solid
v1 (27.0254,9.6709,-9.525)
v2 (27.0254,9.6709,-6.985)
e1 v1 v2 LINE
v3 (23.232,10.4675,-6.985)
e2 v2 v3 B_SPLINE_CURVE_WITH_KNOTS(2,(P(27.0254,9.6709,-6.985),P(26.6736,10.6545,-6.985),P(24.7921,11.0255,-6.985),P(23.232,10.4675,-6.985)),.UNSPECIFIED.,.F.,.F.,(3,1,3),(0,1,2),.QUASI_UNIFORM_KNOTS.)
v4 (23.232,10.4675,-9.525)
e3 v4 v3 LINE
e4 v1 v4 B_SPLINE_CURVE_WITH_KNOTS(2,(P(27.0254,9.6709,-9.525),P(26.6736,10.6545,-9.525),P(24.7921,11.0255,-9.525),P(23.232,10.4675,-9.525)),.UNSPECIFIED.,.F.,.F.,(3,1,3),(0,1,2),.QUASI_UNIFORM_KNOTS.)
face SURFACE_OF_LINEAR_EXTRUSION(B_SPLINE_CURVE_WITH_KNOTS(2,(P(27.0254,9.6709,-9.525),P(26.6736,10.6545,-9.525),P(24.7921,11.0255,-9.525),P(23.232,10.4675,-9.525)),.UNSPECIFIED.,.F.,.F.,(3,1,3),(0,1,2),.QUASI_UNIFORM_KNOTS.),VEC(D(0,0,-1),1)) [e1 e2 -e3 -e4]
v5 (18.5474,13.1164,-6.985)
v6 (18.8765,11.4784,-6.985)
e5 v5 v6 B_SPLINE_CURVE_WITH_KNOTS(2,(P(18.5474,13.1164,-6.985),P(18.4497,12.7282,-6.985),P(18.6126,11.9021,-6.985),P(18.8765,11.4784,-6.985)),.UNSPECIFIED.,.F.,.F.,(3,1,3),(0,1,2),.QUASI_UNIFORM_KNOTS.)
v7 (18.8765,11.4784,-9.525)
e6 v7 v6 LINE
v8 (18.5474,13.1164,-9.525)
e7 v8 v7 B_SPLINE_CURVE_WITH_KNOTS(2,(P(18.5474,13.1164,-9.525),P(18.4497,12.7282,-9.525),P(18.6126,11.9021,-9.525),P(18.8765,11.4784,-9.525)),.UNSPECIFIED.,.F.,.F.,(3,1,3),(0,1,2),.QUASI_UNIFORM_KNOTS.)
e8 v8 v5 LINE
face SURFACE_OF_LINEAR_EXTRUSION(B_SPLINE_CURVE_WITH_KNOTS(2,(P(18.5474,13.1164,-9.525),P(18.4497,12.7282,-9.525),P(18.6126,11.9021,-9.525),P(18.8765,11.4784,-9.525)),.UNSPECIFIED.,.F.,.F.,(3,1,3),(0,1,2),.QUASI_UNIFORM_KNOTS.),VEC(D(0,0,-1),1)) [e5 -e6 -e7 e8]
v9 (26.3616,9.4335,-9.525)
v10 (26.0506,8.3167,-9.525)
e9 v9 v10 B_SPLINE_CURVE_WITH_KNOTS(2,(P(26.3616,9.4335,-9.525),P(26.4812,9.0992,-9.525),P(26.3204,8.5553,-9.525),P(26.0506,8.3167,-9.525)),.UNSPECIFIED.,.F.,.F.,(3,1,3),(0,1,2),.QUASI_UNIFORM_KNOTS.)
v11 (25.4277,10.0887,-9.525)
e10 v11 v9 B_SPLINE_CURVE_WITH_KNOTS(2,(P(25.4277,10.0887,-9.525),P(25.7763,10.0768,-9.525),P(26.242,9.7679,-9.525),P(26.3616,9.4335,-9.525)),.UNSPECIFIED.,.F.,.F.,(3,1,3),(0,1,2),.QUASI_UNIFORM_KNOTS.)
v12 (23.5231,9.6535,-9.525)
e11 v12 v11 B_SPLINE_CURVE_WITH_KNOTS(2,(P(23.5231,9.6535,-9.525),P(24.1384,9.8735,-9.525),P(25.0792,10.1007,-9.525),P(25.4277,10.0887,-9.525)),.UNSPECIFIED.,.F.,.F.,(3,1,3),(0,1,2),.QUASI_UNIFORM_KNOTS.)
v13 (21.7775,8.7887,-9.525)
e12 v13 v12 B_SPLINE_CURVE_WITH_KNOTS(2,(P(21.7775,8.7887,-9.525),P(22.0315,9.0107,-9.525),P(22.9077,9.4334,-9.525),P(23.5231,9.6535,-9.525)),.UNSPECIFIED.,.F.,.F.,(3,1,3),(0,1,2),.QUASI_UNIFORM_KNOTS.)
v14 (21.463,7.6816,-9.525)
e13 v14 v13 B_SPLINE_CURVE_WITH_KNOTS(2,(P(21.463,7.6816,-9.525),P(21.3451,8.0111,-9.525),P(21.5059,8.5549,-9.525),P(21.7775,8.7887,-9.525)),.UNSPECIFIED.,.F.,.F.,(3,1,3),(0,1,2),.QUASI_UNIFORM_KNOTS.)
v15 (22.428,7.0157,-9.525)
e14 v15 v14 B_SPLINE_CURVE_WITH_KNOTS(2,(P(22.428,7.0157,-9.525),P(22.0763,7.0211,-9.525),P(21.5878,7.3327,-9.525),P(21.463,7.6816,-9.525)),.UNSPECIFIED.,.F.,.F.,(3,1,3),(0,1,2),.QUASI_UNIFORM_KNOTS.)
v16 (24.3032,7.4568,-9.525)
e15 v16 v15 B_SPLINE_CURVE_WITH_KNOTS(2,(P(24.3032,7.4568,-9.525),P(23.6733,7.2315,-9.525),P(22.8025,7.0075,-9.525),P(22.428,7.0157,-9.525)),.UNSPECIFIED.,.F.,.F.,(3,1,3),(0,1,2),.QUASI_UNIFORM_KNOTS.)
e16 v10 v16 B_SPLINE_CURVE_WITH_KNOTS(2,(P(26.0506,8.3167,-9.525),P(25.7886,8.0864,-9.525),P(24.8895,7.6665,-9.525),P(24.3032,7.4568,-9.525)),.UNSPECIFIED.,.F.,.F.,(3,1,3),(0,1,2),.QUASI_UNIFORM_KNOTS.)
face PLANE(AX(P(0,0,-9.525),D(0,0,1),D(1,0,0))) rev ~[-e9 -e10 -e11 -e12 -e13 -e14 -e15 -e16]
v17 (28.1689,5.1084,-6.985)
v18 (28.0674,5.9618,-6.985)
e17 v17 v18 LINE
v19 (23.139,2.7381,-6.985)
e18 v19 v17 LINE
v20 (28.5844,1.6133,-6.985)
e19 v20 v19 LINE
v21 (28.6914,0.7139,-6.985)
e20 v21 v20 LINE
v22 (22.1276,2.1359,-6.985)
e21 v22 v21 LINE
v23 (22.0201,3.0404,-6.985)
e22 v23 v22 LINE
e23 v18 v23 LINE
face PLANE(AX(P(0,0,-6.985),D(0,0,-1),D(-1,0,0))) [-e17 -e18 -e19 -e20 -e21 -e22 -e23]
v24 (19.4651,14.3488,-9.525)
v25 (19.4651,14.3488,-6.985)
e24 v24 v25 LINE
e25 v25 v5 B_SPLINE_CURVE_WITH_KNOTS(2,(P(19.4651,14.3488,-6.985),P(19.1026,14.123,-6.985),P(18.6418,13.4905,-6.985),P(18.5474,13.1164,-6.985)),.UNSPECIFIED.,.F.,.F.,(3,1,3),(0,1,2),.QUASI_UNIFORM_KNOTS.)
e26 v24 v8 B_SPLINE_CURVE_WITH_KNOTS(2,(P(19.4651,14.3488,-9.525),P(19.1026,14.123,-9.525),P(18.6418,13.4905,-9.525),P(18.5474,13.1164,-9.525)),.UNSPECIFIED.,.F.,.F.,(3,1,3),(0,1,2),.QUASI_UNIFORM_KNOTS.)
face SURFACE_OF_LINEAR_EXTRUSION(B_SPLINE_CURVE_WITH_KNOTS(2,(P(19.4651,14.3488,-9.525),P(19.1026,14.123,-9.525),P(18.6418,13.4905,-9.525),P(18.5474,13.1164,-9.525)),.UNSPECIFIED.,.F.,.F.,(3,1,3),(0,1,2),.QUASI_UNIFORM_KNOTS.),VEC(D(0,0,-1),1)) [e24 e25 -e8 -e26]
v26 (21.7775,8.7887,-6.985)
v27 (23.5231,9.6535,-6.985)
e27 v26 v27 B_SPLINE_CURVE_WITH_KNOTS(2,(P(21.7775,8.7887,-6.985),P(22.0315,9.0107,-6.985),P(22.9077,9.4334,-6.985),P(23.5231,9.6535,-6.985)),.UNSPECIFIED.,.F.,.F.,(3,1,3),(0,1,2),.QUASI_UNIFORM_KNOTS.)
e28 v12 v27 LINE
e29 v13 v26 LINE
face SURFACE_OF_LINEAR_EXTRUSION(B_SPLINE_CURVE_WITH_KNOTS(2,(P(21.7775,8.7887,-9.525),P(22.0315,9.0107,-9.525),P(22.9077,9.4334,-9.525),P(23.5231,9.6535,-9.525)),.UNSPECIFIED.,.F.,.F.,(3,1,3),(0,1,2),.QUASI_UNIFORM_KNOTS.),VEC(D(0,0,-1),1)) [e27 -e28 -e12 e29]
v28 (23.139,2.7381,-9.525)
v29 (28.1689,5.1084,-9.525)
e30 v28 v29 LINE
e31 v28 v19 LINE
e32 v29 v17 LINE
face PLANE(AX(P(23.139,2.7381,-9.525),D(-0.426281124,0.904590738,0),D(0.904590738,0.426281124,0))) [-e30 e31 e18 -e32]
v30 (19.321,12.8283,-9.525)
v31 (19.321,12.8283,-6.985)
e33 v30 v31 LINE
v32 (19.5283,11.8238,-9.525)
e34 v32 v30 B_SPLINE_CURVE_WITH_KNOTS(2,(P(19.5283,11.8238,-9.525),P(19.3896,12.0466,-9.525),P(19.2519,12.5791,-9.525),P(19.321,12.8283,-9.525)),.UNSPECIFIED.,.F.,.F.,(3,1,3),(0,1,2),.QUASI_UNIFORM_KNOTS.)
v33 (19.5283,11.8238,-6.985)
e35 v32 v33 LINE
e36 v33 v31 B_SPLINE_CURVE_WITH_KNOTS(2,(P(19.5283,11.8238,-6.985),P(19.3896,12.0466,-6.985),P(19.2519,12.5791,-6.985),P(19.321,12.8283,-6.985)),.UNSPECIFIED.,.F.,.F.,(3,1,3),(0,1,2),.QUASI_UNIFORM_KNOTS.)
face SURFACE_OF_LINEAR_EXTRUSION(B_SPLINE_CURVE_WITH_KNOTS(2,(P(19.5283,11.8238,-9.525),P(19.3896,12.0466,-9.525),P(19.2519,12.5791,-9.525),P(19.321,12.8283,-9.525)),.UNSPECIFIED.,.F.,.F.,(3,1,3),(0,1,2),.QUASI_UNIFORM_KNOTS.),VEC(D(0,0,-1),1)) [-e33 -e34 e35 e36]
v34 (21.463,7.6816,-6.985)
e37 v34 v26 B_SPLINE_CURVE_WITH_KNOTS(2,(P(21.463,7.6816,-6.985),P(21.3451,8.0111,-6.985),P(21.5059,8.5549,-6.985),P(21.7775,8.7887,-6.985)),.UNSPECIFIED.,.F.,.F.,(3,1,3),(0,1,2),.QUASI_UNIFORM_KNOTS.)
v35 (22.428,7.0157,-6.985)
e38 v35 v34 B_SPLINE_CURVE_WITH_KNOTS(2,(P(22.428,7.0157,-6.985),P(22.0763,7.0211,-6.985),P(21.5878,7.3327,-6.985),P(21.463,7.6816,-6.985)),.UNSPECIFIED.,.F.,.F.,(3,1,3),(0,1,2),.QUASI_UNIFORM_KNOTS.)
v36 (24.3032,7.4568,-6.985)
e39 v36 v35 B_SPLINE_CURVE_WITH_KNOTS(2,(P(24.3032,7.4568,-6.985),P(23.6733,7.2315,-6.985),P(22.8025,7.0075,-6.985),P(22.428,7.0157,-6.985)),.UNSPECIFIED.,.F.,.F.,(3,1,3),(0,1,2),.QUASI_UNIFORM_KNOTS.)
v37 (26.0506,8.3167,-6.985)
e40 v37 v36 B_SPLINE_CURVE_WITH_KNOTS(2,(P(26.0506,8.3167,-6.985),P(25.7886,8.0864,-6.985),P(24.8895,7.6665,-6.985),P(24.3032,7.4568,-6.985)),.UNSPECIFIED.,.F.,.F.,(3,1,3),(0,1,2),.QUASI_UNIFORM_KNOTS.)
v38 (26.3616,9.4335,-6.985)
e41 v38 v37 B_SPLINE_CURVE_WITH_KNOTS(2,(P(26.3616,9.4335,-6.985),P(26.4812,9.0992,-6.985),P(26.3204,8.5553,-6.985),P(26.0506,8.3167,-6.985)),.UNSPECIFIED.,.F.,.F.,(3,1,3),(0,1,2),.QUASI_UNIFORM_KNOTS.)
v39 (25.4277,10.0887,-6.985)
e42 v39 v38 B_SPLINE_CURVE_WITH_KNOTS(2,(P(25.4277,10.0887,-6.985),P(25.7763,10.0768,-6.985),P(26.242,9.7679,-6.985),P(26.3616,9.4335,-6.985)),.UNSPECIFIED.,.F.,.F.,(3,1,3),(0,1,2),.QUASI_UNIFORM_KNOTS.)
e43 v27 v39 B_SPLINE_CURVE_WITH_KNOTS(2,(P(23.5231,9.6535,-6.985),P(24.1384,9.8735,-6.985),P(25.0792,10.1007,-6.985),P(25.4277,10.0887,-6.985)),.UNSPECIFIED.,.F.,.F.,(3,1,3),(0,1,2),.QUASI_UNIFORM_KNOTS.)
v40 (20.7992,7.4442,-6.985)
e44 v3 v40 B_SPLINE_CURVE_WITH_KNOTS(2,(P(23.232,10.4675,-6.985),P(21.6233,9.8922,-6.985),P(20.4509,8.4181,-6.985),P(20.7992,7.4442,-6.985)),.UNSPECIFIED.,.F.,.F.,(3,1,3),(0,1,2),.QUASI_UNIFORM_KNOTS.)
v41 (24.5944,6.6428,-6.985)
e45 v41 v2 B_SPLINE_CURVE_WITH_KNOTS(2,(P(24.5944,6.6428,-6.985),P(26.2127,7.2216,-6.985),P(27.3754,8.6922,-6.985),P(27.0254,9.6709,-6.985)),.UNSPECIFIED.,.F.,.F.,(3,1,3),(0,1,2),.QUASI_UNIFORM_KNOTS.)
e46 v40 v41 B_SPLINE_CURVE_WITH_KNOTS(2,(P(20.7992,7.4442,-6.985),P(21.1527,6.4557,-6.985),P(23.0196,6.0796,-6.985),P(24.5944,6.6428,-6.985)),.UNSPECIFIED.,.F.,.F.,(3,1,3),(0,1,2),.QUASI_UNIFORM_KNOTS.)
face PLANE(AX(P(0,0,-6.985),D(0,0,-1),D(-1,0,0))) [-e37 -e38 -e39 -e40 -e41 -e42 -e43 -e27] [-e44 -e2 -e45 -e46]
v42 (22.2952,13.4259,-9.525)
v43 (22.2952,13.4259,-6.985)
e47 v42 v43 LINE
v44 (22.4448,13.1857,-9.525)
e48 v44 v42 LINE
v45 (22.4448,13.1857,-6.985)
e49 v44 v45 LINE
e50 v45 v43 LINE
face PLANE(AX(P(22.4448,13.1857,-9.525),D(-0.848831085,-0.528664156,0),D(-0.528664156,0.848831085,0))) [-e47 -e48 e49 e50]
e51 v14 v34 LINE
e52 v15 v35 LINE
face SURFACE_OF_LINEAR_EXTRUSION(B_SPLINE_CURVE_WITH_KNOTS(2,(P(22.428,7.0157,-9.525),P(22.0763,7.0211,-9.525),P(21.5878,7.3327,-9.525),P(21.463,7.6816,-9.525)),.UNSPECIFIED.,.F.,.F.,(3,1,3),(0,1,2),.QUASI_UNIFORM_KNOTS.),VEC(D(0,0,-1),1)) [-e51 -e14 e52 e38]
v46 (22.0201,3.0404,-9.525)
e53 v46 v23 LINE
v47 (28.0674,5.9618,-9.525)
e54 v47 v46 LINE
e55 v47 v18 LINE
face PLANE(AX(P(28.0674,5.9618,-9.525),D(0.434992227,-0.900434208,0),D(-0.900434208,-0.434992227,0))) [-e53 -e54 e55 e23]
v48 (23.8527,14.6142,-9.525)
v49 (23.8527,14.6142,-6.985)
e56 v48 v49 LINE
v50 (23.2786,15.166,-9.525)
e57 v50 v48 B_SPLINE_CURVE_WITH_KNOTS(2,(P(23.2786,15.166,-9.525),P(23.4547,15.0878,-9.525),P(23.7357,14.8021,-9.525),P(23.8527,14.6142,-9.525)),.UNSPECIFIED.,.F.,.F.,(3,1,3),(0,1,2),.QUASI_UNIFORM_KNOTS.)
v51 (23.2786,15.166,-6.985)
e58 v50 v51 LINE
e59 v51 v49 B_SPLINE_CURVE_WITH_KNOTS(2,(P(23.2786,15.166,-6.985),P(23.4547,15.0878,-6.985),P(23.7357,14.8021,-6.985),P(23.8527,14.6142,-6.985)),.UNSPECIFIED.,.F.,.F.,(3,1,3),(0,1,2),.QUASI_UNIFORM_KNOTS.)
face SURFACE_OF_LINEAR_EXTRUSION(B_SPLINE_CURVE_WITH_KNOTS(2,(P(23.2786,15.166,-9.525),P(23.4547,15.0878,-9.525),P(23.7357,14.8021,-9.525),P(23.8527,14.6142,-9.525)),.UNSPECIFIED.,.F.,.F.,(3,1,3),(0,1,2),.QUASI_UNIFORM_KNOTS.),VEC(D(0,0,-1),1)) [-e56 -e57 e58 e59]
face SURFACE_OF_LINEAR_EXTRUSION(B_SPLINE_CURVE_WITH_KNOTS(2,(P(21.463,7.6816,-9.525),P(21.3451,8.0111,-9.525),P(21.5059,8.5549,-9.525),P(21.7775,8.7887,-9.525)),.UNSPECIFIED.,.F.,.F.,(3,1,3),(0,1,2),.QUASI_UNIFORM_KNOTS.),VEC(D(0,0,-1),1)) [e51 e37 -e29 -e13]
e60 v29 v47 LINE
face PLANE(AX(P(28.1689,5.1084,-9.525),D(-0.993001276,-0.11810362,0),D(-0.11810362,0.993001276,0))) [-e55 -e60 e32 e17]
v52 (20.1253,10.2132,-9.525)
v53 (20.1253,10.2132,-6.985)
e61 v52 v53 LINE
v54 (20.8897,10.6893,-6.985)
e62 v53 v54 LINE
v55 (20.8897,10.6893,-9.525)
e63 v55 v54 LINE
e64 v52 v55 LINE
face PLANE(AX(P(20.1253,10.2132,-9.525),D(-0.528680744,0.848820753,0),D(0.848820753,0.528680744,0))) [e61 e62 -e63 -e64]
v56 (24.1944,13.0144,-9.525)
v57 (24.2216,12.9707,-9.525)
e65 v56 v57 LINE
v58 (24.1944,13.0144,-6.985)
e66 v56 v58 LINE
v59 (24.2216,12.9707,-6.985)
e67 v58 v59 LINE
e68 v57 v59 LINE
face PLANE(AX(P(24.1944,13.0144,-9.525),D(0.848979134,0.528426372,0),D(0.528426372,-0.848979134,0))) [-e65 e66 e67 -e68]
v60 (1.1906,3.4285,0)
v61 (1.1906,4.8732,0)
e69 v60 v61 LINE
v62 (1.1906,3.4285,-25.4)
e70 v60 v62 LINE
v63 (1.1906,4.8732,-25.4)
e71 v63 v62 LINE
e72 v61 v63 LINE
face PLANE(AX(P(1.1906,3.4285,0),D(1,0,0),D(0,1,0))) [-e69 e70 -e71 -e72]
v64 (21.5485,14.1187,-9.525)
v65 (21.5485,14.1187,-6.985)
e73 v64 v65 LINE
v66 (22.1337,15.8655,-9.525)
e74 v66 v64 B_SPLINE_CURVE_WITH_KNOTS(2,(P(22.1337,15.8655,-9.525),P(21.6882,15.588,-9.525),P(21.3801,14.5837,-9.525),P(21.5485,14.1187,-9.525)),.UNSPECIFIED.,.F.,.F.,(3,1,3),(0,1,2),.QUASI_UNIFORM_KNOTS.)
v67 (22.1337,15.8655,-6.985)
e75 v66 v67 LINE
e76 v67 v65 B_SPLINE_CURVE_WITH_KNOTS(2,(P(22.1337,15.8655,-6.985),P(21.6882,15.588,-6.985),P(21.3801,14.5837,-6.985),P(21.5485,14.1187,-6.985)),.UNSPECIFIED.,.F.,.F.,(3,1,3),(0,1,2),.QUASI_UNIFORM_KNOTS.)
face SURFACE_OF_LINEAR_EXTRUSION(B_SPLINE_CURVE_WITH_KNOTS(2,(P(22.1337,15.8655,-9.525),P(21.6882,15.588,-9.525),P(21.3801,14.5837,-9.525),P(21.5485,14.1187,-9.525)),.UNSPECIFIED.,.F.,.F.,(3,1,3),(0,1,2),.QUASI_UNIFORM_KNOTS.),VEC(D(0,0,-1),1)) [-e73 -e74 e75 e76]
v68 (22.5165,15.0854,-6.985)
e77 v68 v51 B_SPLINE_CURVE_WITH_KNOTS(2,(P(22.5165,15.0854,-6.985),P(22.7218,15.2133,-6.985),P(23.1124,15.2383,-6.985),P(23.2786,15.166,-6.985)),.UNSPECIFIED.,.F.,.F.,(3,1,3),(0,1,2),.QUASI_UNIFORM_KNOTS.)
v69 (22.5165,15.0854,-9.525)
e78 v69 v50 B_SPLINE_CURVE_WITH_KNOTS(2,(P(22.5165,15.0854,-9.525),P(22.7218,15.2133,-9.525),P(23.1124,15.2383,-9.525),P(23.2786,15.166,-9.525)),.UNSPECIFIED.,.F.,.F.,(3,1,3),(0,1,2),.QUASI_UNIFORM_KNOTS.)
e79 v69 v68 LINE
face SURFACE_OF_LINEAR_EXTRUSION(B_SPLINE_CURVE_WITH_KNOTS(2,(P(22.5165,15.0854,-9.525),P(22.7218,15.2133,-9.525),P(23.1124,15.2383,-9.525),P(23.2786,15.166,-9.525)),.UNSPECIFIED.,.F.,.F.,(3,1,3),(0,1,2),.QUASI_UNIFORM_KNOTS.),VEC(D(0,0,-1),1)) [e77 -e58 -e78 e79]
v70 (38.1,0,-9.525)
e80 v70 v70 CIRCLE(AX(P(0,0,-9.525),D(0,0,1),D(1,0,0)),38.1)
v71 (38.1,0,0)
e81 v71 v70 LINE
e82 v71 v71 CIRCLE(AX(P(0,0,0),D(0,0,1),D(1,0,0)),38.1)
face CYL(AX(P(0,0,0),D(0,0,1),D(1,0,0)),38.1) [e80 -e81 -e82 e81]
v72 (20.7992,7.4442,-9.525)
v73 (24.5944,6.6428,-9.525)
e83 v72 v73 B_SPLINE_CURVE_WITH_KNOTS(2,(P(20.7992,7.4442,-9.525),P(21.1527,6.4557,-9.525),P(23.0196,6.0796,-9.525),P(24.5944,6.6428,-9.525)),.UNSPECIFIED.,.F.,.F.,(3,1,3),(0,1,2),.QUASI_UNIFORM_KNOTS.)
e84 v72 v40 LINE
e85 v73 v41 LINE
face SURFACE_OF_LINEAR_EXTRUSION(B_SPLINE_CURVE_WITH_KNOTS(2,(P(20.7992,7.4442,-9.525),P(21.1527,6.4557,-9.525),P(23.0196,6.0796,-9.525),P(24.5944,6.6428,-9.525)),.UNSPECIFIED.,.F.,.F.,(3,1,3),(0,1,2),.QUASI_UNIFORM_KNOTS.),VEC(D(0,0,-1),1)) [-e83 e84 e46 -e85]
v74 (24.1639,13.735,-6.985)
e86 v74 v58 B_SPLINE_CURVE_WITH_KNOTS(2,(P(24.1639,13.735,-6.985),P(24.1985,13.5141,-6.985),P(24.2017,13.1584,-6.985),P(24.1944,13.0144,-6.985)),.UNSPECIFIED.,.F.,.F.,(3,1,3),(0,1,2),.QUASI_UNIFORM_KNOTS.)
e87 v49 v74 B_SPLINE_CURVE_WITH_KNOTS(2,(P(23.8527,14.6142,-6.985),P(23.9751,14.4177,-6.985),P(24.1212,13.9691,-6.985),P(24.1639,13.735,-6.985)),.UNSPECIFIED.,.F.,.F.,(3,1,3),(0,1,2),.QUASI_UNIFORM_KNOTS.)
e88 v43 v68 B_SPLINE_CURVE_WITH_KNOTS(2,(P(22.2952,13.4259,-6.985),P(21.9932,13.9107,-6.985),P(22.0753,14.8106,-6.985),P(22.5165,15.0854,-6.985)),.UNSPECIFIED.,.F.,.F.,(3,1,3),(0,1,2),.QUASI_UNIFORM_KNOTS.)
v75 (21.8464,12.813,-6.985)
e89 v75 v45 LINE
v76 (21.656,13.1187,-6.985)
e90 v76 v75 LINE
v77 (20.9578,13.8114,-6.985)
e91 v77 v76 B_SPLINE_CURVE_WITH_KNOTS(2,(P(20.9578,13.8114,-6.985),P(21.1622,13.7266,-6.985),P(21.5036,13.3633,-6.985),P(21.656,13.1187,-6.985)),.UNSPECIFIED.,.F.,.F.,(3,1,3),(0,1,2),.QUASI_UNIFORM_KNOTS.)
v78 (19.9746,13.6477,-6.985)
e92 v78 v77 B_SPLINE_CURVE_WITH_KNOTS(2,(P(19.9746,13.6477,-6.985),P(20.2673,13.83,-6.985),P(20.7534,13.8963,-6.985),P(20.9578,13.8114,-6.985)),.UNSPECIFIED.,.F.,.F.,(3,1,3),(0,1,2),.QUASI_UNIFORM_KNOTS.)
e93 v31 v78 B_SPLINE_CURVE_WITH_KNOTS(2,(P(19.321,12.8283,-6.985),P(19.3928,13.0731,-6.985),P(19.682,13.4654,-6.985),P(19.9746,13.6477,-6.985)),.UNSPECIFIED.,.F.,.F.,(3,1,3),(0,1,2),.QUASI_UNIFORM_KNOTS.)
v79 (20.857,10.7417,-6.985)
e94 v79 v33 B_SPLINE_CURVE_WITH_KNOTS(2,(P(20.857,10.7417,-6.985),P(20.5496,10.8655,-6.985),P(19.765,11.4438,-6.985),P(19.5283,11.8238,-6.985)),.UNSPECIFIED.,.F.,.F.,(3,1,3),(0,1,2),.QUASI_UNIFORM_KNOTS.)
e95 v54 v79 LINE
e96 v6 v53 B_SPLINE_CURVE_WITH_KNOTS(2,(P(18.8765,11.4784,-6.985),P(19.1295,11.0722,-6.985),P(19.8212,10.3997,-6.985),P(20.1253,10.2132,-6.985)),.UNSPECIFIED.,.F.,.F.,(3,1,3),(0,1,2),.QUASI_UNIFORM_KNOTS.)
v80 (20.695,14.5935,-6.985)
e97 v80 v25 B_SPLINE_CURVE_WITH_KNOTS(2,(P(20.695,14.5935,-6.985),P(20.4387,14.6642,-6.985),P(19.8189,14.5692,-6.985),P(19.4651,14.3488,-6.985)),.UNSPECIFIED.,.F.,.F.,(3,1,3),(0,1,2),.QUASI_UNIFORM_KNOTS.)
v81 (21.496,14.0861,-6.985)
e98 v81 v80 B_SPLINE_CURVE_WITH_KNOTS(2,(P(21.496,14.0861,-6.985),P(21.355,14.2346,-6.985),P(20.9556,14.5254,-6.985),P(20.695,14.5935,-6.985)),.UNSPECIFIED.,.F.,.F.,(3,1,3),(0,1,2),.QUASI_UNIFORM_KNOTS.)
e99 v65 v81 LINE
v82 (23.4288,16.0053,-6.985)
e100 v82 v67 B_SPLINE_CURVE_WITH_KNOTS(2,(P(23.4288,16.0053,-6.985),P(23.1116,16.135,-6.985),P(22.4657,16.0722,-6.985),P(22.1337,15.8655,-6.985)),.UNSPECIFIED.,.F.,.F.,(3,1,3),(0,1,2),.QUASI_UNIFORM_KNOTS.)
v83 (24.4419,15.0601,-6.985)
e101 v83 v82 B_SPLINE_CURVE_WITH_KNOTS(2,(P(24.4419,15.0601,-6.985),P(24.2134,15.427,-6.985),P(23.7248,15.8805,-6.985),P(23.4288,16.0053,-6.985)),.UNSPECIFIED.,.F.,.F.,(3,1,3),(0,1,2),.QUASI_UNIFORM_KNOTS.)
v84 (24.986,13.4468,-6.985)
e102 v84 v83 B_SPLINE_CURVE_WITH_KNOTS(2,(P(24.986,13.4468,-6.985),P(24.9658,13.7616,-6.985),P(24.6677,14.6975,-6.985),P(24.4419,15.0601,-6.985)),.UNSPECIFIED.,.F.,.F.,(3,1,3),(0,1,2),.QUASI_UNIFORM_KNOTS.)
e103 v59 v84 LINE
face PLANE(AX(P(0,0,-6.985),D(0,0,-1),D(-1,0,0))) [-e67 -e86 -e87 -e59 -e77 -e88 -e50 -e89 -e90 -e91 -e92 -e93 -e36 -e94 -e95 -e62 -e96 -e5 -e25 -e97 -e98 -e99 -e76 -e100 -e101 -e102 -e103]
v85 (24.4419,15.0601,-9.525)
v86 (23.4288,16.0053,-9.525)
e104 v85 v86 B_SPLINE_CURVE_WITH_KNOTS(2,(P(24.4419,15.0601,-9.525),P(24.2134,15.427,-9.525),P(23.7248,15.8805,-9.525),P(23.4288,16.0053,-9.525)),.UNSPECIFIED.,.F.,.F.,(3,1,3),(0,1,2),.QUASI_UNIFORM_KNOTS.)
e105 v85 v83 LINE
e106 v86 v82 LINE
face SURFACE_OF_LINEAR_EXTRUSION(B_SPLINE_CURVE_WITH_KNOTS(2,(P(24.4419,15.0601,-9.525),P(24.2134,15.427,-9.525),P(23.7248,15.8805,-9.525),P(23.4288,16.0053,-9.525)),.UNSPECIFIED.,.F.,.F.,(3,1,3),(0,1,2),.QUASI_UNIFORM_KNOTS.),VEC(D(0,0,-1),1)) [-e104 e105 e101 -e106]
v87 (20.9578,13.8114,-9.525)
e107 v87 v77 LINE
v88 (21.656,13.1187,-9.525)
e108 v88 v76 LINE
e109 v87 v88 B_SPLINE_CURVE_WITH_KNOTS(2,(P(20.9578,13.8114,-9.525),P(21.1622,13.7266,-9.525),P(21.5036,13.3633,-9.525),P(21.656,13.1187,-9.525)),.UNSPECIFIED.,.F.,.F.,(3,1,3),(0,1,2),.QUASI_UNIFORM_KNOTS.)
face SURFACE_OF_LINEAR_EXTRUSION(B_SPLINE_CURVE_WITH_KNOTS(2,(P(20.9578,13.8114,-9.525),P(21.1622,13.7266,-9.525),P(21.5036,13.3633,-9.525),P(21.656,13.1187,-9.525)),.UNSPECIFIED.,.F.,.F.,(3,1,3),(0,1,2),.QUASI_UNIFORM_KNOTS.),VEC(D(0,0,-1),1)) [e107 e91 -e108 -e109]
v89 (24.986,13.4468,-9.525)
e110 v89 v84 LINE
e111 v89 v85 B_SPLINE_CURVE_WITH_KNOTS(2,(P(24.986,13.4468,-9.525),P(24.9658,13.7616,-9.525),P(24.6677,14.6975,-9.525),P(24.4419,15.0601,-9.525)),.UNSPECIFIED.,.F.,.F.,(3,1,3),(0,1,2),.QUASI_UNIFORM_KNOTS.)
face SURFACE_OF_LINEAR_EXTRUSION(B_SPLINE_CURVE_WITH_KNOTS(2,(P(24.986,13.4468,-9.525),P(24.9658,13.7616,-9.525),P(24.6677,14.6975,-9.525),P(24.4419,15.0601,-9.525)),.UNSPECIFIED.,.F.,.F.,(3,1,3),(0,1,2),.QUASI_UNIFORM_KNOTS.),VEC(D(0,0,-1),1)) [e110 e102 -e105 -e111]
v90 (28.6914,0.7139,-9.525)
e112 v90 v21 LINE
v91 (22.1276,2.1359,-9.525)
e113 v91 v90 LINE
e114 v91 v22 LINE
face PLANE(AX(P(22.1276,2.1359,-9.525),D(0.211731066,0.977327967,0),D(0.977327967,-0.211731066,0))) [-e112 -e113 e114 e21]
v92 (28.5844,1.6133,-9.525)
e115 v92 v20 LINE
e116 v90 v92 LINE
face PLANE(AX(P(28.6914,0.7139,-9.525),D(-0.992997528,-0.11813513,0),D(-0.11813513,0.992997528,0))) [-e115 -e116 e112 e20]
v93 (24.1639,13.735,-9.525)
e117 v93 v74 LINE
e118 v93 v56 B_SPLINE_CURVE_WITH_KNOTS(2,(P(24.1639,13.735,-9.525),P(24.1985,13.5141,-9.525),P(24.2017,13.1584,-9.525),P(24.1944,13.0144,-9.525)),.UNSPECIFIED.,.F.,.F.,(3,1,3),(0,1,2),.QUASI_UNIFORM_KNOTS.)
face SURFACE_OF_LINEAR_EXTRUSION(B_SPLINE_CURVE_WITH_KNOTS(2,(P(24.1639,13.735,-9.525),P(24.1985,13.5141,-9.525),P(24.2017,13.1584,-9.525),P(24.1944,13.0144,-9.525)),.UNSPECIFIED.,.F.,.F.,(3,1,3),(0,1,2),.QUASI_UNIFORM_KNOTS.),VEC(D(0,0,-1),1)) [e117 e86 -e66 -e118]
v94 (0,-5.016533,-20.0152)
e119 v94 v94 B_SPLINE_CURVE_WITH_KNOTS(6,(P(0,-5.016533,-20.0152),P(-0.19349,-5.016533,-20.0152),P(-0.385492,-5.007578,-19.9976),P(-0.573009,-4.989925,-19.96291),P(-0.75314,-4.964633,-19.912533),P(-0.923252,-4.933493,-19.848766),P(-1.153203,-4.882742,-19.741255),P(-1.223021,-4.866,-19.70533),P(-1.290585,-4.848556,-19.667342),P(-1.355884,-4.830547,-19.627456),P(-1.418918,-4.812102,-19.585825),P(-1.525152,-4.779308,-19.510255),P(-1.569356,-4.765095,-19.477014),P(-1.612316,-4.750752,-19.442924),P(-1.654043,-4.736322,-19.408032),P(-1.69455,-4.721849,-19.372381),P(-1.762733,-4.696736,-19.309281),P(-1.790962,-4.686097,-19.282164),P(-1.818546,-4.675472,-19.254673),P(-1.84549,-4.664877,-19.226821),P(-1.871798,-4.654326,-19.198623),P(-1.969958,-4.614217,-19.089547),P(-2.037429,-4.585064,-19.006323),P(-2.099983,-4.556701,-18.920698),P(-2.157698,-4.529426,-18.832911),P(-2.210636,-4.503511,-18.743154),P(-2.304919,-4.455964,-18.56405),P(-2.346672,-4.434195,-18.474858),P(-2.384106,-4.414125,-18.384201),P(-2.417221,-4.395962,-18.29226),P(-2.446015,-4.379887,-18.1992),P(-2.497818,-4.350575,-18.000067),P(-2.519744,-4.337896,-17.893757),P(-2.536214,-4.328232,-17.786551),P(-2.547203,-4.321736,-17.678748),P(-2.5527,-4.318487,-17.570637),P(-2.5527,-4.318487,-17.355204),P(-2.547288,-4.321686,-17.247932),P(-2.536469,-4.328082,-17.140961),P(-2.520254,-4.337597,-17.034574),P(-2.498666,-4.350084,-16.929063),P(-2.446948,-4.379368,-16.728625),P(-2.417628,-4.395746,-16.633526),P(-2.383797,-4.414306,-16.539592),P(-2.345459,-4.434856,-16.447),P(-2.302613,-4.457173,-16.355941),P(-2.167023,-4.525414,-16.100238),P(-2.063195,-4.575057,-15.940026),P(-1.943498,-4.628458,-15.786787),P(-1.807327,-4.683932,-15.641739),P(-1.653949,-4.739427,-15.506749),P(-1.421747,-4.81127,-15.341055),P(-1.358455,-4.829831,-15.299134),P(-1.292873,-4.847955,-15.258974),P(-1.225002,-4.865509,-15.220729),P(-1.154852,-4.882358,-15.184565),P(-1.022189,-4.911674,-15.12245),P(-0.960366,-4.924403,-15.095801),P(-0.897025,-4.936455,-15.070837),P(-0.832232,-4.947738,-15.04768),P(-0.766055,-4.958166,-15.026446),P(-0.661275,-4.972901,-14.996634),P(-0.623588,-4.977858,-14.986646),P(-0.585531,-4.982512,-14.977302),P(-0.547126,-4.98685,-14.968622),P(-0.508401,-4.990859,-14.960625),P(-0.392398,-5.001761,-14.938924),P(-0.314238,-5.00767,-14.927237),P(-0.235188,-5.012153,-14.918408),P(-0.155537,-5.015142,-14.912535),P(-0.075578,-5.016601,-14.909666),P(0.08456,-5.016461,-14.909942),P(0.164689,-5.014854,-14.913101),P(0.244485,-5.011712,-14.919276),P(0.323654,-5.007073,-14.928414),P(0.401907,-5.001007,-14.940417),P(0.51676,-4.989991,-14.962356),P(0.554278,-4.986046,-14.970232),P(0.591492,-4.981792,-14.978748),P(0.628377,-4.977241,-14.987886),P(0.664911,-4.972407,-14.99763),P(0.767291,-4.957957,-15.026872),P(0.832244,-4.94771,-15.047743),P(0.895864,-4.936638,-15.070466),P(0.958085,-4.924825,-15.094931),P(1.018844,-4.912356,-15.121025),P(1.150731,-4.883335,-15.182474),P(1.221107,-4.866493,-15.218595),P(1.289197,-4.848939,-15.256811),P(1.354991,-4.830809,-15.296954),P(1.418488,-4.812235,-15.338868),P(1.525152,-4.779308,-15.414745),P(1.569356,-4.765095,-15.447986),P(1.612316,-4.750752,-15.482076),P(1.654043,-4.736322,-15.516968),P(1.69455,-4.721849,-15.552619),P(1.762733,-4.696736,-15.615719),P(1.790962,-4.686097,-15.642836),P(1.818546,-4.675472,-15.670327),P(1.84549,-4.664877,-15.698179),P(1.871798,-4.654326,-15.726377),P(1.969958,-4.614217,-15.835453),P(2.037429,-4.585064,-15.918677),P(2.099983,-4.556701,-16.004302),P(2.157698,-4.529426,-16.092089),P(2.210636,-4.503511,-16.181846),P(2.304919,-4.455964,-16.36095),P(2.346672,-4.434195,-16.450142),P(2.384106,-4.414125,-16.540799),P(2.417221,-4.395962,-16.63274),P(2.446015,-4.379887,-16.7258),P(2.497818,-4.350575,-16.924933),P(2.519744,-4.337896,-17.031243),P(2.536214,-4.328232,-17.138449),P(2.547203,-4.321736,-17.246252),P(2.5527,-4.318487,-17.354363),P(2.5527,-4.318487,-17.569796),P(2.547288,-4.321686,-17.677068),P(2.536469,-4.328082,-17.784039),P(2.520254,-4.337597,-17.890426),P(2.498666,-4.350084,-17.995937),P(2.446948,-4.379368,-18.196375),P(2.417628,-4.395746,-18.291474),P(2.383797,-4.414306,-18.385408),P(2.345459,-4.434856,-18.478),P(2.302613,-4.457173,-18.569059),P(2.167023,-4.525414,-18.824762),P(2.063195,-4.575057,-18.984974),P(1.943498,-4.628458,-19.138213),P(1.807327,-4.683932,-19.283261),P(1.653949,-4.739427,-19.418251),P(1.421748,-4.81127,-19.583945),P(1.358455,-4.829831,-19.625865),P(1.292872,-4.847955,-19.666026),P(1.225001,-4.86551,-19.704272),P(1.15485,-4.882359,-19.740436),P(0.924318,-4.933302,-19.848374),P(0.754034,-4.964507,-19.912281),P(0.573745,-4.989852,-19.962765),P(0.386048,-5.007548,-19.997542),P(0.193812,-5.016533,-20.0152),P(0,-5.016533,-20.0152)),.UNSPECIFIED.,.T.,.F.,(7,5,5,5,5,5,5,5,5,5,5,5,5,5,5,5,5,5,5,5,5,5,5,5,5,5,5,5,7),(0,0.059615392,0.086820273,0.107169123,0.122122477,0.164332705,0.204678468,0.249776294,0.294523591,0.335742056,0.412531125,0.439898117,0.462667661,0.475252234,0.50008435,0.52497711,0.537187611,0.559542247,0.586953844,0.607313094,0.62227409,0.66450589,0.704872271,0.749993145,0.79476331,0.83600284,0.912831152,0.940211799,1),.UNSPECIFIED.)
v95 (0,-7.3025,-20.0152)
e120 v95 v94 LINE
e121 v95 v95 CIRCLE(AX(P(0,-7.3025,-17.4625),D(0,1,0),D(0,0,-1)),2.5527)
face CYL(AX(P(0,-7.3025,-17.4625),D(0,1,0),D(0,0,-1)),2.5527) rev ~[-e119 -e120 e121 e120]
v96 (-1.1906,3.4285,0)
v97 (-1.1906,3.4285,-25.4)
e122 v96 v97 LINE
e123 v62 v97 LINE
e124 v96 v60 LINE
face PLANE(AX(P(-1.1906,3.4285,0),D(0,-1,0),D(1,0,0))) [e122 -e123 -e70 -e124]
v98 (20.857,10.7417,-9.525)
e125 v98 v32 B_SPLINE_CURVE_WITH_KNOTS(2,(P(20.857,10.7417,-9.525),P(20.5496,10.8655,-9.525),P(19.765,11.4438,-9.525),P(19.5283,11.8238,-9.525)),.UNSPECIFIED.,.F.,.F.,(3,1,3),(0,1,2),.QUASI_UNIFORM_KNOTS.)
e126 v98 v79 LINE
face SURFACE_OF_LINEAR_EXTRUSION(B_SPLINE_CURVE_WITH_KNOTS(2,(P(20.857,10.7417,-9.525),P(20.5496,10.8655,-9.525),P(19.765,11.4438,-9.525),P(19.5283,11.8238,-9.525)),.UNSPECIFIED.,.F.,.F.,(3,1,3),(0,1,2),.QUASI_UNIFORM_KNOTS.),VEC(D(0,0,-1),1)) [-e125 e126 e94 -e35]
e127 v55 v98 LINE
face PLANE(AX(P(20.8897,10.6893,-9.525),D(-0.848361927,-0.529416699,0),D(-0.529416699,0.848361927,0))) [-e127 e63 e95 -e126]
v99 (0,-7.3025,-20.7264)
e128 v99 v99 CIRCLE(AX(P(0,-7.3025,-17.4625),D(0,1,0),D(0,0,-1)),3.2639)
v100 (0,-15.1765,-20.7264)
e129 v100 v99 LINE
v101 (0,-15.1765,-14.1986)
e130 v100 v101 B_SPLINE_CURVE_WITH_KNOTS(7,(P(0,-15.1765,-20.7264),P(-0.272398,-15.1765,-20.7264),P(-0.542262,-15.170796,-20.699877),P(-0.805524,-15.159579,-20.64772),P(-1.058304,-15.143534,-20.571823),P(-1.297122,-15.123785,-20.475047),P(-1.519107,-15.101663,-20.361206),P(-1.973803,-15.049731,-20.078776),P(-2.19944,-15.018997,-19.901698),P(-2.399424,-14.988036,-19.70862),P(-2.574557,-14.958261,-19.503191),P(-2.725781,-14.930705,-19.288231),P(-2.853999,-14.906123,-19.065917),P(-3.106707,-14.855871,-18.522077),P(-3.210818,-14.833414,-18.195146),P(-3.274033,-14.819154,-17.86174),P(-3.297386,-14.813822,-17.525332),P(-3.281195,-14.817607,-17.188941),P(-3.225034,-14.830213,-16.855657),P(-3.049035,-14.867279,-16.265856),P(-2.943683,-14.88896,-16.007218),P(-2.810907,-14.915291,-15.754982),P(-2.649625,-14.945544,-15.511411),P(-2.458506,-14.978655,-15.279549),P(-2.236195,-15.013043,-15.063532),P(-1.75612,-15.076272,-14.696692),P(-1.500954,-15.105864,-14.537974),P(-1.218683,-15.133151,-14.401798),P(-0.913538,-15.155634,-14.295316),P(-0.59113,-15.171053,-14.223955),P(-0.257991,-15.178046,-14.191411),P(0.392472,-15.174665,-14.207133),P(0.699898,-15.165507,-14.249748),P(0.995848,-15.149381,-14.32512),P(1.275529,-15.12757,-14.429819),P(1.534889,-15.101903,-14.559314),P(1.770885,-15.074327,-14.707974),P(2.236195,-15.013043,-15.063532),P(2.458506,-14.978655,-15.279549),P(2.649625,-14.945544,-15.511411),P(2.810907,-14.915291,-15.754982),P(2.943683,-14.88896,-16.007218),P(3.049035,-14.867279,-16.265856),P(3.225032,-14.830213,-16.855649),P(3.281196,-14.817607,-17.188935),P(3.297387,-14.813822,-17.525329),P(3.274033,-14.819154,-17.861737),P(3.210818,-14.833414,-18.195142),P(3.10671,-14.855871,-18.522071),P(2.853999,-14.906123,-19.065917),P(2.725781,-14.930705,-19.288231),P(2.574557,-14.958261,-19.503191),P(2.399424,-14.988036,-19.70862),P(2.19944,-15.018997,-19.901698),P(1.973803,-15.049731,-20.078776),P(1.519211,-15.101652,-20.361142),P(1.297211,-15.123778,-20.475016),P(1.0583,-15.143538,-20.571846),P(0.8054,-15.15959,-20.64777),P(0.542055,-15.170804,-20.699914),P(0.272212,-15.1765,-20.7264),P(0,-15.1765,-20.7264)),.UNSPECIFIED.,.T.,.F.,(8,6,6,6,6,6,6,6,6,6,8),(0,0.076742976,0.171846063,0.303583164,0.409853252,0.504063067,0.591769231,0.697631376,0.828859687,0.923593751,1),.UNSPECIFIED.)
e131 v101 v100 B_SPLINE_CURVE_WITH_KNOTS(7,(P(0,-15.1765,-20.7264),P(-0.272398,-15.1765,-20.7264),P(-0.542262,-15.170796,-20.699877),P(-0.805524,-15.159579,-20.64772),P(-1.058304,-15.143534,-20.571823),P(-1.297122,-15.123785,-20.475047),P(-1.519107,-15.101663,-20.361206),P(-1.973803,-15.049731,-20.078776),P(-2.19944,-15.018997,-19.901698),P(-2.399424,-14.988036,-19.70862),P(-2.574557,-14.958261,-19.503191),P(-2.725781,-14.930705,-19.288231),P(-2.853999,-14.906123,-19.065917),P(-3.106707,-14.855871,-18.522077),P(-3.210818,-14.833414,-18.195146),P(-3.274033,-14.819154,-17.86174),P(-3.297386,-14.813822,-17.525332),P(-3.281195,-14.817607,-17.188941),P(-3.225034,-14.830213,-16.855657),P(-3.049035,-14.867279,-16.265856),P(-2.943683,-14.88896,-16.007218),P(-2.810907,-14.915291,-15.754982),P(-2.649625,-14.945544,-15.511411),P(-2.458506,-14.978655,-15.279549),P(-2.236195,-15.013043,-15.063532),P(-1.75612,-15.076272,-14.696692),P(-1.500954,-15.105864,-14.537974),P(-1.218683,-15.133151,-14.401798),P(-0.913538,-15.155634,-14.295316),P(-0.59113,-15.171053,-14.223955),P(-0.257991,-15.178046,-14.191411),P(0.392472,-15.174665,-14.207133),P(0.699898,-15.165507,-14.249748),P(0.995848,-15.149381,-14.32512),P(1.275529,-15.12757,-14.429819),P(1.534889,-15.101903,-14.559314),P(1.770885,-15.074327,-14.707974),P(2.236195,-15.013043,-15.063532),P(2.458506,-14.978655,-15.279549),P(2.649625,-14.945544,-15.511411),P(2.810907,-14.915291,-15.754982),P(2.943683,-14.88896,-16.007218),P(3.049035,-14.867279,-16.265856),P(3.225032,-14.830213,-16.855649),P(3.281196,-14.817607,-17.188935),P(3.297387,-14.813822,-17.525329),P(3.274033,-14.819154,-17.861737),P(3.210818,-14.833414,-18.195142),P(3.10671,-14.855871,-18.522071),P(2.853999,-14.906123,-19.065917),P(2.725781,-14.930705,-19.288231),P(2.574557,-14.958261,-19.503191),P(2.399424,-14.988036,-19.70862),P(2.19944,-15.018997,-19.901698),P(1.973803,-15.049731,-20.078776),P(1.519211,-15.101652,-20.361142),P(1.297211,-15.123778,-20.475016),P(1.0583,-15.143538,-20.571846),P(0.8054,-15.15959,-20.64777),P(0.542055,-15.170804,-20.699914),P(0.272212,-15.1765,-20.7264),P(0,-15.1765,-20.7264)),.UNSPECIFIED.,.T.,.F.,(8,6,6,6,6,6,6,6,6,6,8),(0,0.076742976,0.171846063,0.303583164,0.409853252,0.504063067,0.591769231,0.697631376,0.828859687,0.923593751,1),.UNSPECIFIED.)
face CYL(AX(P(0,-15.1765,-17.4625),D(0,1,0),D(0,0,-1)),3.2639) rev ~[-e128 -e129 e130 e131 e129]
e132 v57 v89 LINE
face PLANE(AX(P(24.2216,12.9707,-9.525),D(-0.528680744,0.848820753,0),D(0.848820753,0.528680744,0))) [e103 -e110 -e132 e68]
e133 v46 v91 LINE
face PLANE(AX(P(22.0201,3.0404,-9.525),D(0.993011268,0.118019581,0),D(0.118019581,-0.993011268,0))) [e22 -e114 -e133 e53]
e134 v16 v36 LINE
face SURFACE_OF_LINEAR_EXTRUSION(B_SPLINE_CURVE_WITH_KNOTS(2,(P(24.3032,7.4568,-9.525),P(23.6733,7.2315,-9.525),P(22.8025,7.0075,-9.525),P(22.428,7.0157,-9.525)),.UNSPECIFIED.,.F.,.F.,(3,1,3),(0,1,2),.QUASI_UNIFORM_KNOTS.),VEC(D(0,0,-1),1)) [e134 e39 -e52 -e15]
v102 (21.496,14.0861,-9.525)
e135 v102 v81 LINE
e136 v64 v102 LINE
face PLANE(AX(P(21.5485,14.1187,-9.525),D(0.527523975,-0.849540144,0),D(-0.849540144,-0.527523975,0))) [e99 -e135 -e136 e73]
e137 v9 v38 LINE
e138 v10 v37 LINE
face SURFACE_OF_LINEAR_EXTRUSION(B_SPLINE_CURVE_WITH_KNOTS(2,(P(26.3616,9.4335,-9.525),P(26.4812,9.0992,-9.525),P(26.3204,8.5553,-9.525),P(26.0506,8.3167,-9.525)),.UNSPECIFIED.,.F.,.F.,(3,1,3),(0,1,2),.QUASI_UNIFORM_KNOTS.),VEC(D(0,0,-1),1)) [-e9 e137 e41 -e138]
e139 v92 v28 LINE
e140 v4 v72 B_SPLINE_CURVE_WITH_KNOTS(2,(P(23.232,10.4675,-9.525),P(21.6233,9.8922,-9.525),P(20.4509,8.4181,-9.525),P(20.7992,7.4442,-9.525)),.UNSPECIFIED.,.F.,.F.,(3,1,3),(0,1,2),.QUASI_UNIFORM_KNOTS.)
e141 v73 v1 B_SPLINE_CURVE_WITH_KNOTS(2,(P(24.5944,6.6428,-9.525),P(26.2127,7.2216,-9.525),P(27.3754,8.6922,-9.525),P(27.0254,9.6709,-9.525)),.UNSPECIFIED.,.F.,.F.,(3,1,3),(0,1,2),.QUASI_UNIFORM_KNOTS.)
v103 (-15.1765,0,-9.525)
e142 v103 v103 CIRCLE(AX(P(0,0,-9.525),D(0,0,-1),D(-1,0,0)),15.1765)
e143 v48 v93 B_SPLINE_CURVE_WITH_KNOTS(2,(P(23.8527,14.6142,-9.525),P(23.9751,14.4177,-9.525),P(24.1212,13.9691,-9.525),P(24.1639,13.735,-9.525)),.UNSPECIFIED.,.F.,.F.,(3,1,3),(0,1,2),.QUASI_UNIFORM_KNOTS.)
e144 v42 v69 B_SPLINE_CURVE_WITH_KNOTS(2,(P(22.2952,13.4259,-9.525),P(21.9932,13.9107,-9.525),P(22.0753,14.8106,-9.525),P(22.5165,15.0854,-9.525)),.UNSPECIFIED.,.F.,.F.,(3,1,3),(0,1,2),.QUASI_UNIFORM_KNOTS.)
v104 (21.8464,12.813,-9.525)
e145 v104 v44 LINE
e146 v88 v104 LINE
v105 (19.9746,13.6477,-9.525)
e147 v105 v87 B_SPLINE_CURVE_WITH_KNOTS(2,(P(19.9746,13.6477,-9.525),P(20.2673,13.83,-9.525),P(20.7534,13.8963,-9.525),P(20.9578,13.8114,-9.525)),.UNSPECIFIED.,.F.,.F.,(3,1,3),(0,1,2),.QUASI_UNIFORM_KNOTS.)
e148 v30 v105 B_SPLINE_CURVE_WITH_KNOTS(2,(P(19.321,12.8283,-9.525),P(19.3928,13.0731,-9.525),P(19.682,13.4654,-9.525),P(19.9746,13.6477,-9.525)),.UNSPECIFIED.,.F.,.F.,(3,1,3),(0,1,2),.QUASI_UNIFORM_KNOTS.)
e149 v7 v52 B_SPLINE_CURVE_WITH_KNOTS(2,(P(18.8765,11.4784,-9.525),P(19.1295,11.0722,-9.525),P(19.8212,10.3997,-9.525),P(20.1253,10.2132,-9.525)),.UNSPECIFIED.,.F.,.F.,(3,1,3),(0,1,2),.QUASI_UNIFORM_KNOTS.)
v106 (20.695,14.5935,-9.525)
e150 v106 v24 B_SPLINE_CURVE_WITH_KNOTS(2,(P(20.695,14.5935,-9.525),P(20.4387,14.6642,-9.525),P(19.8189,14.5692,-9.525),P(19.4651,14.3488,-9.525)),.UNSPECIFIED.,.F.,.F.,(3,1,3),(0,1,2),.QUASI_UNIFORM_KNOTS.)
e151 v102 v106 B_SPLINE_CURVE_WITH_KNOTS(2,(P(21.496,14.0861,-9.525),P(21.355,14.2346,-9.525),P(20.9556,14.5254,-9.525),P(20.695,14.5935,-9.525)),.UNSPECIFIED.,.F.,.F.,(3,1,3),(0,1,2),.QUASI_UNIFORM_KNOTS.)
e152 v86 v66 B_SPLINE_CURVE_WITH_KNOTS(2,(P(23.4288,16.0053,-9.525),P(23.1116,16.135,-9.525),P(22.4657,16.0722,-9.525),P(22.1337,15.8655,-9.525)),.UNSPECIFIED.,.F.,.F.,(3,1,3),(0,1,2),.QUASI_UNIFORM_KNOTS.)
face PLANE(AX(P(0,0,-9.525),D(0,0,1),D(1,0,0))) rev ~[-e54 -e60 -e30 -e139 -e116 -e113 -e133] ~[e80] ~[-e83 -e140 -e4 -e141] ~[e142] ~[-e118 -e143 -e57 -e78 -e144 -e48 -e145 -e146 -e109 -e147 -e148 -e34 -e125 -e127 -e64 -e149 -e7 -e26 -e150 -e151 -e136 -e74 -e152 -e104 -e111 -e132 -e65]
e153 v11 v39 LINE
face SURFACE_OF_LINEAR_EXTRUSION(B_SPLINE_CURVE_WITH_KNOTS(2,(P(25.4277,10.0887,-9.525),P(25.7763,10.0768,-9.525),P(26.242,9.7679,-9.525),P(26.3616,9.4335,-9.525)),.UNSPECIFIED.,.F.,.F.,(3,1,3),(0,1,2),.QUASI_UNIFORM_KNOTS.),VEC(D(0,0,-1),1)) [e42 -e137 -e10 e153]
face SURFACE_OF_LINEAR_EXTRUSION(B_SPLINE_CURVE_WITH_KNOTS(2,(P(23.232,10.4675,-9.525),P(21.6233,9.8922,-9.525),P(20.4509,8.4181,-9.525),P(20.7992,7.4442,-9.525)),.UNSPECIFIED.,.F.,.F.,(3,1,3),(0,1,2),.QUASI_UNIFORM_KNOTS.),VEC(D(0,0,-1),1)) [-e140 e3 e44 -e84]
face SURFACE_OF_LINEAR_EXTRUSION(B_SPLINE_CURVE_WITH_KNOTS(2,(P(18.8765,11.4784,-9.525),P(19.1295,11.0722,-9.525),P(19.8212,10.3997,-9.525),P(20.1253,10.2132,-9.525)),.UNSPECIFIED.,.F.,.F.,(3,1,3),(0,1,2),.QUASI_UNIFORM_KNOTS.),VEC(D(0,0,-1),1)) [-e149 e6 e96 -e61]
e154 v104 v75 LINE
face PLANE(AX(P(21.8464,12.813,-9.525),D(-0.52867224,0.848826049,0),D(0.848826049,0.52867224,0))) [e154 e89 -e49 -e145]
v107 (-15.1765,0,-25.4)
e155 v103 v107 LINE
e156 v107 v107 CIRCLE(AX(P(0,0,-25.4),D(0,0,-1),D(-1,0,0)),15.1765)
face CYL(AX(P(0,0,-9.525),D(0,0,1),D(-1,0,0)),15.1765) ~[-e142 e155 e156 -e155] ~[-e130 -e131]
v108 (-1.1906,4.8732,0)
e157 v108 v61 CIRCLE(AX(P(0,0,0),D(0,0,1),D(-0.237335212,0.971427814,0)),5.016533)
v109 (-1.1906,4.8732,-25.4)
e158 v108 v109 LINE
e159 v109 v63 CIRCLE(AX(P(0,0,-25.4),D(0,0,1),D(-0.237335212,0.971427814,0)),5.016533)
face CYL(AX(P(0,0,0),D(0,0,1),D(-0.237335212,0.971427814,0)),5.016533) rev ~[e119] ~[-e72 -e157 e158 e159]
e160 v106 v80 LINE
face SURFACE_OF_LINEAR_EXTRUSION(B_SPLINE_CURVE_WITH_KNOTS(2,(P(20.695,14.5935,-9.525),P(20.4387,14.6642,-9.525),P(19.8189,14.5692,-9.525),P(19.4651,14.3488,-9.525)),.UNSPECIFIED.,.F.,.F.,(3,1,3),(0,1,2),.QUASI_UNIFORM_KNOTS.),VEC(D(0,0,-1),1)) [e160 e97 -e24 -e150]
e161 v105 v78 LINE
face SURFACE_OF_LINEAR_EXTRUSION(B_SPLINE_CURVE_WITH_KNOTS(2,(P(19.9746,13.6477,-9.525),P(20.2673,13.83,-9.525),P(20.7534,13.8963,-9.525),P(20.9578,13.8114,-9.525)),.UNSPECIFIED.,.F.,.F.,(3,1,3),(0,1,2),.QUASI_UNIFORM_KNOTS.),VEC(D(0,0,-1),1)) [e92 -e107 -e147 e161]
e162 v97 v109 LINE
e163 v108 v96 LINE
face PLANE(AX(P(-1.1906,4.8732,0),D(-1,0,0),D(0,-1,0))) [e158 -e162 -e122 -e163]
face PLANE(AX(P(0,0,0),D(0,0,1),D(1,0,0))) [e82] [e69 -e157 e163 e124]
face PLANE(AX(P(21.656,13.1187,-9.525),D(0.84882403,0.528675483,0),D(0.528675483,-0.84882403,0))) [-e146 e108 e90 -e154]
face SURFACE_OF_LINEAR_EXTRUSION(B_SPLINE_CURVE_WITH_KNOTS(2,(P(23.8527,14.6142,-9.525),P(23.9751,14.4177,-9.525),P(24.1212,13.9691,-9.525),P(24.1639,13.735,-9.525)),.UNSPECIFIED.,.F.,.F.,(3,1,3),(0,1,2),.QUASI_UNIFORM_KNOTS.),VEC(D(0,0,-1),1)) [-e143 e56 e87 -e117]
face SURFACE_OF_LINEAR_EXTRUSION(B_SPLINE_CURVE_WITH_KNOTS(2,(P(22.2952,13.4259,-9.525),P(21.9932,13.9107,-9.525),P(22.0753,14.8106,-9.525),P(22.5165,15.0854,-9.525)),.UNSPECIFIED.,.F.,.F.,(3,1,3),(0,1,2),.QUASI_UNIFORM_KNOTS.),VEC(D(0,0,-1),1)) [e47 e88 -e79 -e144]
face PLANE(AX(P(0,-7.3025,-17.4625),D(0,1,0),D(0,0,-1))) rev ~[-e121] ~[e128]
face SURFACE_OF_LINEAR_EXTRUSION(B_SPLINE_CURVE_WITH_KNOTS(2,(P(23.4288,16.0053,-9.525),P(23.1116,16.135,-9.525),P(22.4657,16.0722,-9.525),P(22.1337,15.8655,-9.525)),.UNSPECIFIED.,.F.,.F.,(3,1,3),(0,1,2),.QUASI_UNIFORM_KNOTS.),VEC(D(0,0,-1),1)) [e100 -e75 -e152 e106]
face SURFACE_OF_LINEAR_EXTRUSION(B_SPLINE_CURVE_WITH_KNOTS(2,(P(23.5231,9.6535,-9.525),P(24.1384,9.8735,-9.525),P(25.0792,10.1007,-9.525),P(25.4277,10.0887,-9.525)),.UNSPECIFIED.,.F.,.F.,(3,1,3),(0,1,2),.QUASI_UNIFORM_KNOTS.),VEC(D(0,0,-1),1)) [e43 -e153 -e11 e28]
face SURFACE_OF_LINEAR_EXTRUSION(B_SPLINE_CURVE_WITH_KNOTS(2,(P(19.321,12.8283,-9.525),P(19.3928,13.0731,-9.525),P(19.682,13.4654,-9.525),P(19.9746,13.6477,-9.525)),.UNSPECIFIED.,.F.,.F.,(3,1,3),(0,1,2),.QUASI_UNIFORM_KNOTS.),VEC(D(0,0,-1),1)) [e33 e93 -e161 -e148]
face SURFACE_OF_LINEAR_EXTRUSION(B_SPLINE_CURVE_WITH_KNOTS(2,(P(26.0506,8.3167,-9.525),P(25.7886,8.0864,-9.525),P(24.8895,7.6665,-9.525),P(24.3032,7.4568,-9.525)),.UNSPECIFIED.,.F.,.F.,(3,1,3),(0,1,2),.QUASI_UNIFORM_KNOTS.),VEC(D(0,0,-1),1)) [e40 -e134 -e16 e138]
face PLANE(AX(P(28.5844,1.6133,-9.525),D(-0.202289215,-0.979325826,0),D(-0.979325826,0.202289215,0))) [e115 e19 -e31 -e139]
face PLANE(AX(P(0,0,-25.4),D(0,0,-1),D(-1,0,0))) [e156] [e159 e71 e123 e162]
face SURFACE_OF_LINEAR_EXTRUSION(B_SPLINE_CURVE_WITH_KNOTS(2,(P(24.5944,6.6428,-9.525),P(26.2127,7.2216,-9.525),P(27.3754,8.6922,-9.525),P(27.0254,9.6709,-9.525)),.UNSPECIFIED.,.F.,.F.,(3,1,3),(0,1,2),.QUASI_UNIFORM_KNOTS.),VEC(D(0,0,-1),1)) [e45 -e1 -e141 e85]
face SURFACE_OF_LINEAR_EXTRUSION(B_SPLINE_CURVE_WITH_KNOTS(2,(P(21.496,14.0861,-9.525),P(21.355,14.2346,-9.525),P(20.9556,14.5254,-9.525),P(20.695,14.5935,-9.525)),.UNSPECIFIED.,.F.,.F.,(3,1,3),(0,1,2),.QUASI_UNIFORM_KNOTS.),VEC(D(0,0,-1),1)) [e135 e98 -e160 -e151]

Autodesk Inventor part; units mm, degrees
ref_plane "YZ Plane" through (0, 0, 0) normal (1, 0, 0) x (0, 1, 0)
ref_plane "XY Plane" through (0, 0, 0) normal (0, 0, 1) x (1, 0, 0)
sketch "Sketch1" plane through (0, 0, 0) normal (0, 0, 1) x (1, 0, 0)
  circle A0 centre (0, 0) radius 38.1
  dimension "d0" = 76.2
extrude "Extrusion1" add sketch "Sketch1" against normal blind 9.525
sketch "Sketch2" plane through (0, 0, -9.525) normal (0, 0, -1) x (-1, 0, 0)
  circle A0 centre (0, 0) radius 15.1765
  dimension "d3" = 30.353
extrude "Extrusion2" add sketch "Sketch2" along normal blind 15.875
sketch "Sketch3" plane through (0, 0, 0) normal (0, 0, 1) x (1, 0, 0)
  arc A0 (-1.1906, 4.8732) -> (1.1906, 4.8732) centre (0, 0) ccw
  line L0 (-1.1906, 4.8732) -> (-1.1906, 3.4285)
  line L1 (-1.1906, 3.4285) -> (1.1906, 3.4285)
  line L2 (1.1906, 3.4285) -> (1.1906, 4.8732)
  circle A1 centre (0, 0) radius 15.1765 projected
  dimension "d6" = 10.033
  dimension "d7" = 2.3813
  dimension "d8" = 1.4446
  dimension "d15" = 10.16
extrude "Extrusion3" cut sketch "Sketch3" against normal through all contours L0 L1 L2 A0
ref_plane "Work Plane2" through (0, -15.1765, 0) normal (0, 1, 0) x (-1, 0, 0)
sketch "Sketch4" plane through (0, -15.1765, 0) normal (0, 1, 0) x (-1, 0, 0)
  line L0 (-15.1765, -9.525) -> (-15.1765, -25.4) projected
  line L1 (15.1765, -9.525) -> (15.1765, -25.4) projected
  line L2 (-38.1, -9.525) -> (38.1, -9.525) projected
  line L3 (-15.1765, -25.4) -> (15.1765, -25.4) projected
  line L4 (0, -25.4) -> (0, -9.525) construction
  point P0 (0, 0)
  point P1 (0, -17.4625)
hole "Hole1" at (0, -15.1765, -17.4625) direction (0, 1, 0) diameter 5.1054 depth 11.43 counterbore diameter 6.5278 counterbore depth 7.874 clearance for "Hex Machine Screw" size "#10" standard "Ansi Unified Screw Threads"
sketch "Sketch5" plane through (0, 0, -9.525) normal (0, 0, -1) x (-1, 0, 0)
  circle A0 centre (0, 0) radius 25.4 construction
  line L0 (-28.0674, 5.9618) -> (-22.0201, 3.0404)
  line L1 (-22.0201, 3.0404) -> (-22.1276, 2.1359)
  line L2 (-22.1276, 2.1359) -> (-28.6914, 0.7139)
  line L3 (-28.6914, 0.7139) -> (-28.5844, 1.6133)
  line L4 (-28.5844, 1.6133) -> (-23.139, 2.7381)
  line L5 (-23.139, 2.7381) -> (-28.1689, 5.1084)
  line L6 (-28.1689, 5.1084) -> (-28.0674, 5.9618)
  spline S0 degree 2 poles (-23.232, 10.4675) (-21.6233, 9.8922) (-20.4509, 8.4181) (-20.7992, 7.4442) knots 0 0 0 1 2 2 2
  spline S1 degree 2 poles (-20.7992, 7.4442) (-21.1527, 6.4557) (-23.0196, 6.0796) (-24.5944, 6.6428) knots 0 0 0 1 2 2 2
  spline S2 degree 2 poles (-24.5944, 6.6428) (-26.2127, 7.2216) (-27.3754, 8.6922) (-27.0254, 9.6709) knots 0 0 0 1 2 2 2
  spline S3 degree 2 poles (-27.0254, 9.6709) (-26.6736, 10.6545) (-24.7921, 11.0255) (-23.232, 10.4675) knots 0 0 0 1 2 2 2
  spline S4 degree 2 poles (-21.7775, 8.7887) (-22.0315, 9.0107) (-22.9077, 9.4334) (-23.5231, 9.6535) knots 0 0 0 1 2 2 2
  spline S5 degree 2 poles (-23.5231, 9.6535) (-24.1384, 9.8735) (-25.0792, 10.1007) (-25.4277, 10.0887) knots 0 0 0 1 2 2 2
  spline S6 degree 2 poles (-25.4277, 10.0887) (-25.7763, 10.0768) (-26.242, 9.7679) (-26.3616, 9.4335) knots 0 0 0 1 2 2 2
  spline S7 degree 2 poles (-26.3616, 9.4335) (-26.4812, 9.0992) (-26.3204, 8.5553) (-26.0506, 8.3167) knots 0 0 0 1 2 2 2
  spline S8 degree 2 poles (-26.0506, 8.3167) (-25.7886, 8.0864) (-24.8895, 7.6665) (-24.3032, 7.4568) knots 0 0 0 1 2 2 2
  spline S9 degree 2 poles (-24.3032, 7.4568) (-23.6733, 7.2315) (-22.8025, 7.0075) (-22.428, 7.0157) knots 0 0 0 1 2 2 2
  spline S10 degree 2 poles (-22.428, 7.0157) (-22.0763, 7.0211) (-21.5878, 7.3327) (-21.463, 7.6816) knots 0 0 0 1 2 2 2
  spline S11 degree 2 poles (-21.463, 7.6816) (-21.3451, 8.0111) (-21.5059, 8.5549) (-21.7775, 8.7887) knots 0 0 0 1 2 2 2
  spline S12 degree 2 poles (-23.8527, 14.6142) (-23.9751, 14.4177) (-24.1212, 13.9691) (-24.1639, 13.735) knots 0 0 0 1 2 2 2
  spline S13 degree 2 poles (-24.1639, 13.735) (-24.1985, 13.5141) (-24.2017, 13.1584) (-24.1944, 13.0144) knots 0 0 0 1 2 2 2
  line L7 (-24.1944, 13.0144) -> (-24.2216, 12.9707)
  line L8 (-24.2216, 12.9707) -> (-24.986, 13.4468)
  spline S14 degree 2 poles (-24.986, 13.4468) (-24.9658, 13.7616) (-24.6677, 14.6975) (-24.4419, 15.0601) knots 0 0 0 1 2 2 2
  spline S15 degree 2 poles (-24.4419, 15.0601) (-24.2134, 15.427) (-23.7248, 15.8805) (-23.4288, 16.0053) knots 0 0 0 1 2 2 2
  spline S16 degree 2 poles (-23.4288, 16.0053) (-23.1116, 16.135) (-22.4657, 16.0722) (-22.1337, 15.8655) knots 0 0 0 1 2 2 2
  spline S17 degree 2 poles (-22.1337, 15.8655) (-21.6882, 15.588) (-21.3801, 14.5837) (-21.5485, 14.1187) knots 0 0 0 1 2 2 2
  line L9 (-21.5485, 14.1187) -> (-21.496, 14.0861)
  spline S18 degree 2 poles (-21.496, 14.0861) (-21.355, 14.2346) (-20.9556, 14.5254) (-20.695, 14.5935) knots 0 0 0 1 2 2 2
  spline S19 degree 2 poles (-20.695, 14.5935) (-20.4387, 14.6642) (-19.8189, 14.5692) (-19.4651, 14.3488) knots 0 0 0 1 2 2 2
  spline S20 degree 2 poles (-19.4651, 14.3488) (-19.1026, 14.123) (-18.6418, 13.4905) (-18.5474, 13.1164) knots 0 0 0 1 2 2 2
  spline S21 degree 2 poles (-18.5474, 13.1164) (-18.4497, 12.7282) (-18.6126, 11.9021) (-18.8765, 11.4784) knots 0 0 0 1 2 2 2
  spline S22 degree 2 poles (-18.8765, 11.4784) (-19.1295, 11.0722) (-19.8212, 10.3997) (-20.1253, 10.2132) knots 0 0 0 1 2 2 2
  line L10 (-20.1253, 10.2132) -> (-20.8897, 10.6893)
  line L11 (-20.8897, 10.6893) -> (-20.857, 10.7417)
  spline S23 degree 2 poles (-20.857, 10.7417) (-20.5496, 10.8655) (-19.765, 11.4438) (-19.5283, 11.8238) knots 0 0 0 1 2 2 2
  spline S24 degree 2 poles (-19.5283, 11.8238) (-19.3896, 12.0466) (-19.2519, 12.5791) (-19.321, 12.8283) knots 0 0 0 1 2 2 2
  spline S25 degree 2 poles (-19.321, 12.8283) (-19.3928, 13.0731) (-19.682, 13.4654) (-19.9746, 13.6477) knots 0 0 0 1 2 2 2
  spline S26 degree 2 poles (-19.9746, 13.6477) (-20.2673, 13.83) (-20.7534, 13.8963) (-20.9578, 13.8114) knots 0 0 0 1 2 2 2
  spline S27 degree 2 poles (-20.9578, 13.8114) (-21.1622, 13.7266) (-21.5036, 13.3633) (-21.656, 13.1187) knots 0 0 0 1 2 2 2
  line L12 (-21.656, 13.1187) -> (-21.8464, 12.813)
  line L13 (-21.8464, 12.813) -> (-22.4448, 13.1857)
  line L14 (-22.4448, 13.1857) -> (-22.2952, 13.4259)
  spline S28 degree 2 poles (-22.2952, 13.4259) (-21.9932, 13.9107) (-22.0753, 14.8106) (-22.5165, 15.0854) knots 0 0 0 1 2 2 2
  spline S29 degree 2 poles (-22.5165, 15.0854) (-22.7218, 15.2133) (-23.1124, 15.2383) (-23.2786, 15.166) knots 0 0 0 1 2 2 2
  spline S30 degree 2 poles (-23.2786, 15.166) (-23.4547, 15.0878) (-23.7357, 14.8021) (-23.8527, 14.6142) knots 0 0 0 1 2 2 2
  dimension "d24" = 50.8
extrude "Extrusion4" cut sketch "Sketch5" against normal blind 2.54
equation "\"d0\" = outerDiameter"
equation "\"d1\" = handleThickness"
equation "\"d3\" = shaftOutsideDiameter"
equation "\"d4\" = shaftLength"
equation "\"d6\" = shaftDiameter"
equation "\"d7\" = keyWidth"
equation "\"d8\" = keyDepth"
equation "\"outerDiameter\" = 76.2"
equation "\"handleThickness\" = 9.525"
equation "\"totalLength\" = 25.4"
equation "\"shaftDiameter\" = 10.033"
equation "\"keyWidth\" = 2.38125"
equation "\"keyDepth\" = 1.44462"
equation "\"shaftLength\" = totalLength - handleThickness"
equation "\"shaftOutsideDiameter\" = shaftDiameter + 2 * setScrewDepth"
equation "\"setScrewDepth\" = 10.16"
equation "\"setScrewWorkPlane\" = 0.5 * shaftOutsideDiameter"
equation "\"d16\" = -setScrewWorkPlane"
properties part number "celestronMountDecHandle" material "PC/ABS Plastic"
